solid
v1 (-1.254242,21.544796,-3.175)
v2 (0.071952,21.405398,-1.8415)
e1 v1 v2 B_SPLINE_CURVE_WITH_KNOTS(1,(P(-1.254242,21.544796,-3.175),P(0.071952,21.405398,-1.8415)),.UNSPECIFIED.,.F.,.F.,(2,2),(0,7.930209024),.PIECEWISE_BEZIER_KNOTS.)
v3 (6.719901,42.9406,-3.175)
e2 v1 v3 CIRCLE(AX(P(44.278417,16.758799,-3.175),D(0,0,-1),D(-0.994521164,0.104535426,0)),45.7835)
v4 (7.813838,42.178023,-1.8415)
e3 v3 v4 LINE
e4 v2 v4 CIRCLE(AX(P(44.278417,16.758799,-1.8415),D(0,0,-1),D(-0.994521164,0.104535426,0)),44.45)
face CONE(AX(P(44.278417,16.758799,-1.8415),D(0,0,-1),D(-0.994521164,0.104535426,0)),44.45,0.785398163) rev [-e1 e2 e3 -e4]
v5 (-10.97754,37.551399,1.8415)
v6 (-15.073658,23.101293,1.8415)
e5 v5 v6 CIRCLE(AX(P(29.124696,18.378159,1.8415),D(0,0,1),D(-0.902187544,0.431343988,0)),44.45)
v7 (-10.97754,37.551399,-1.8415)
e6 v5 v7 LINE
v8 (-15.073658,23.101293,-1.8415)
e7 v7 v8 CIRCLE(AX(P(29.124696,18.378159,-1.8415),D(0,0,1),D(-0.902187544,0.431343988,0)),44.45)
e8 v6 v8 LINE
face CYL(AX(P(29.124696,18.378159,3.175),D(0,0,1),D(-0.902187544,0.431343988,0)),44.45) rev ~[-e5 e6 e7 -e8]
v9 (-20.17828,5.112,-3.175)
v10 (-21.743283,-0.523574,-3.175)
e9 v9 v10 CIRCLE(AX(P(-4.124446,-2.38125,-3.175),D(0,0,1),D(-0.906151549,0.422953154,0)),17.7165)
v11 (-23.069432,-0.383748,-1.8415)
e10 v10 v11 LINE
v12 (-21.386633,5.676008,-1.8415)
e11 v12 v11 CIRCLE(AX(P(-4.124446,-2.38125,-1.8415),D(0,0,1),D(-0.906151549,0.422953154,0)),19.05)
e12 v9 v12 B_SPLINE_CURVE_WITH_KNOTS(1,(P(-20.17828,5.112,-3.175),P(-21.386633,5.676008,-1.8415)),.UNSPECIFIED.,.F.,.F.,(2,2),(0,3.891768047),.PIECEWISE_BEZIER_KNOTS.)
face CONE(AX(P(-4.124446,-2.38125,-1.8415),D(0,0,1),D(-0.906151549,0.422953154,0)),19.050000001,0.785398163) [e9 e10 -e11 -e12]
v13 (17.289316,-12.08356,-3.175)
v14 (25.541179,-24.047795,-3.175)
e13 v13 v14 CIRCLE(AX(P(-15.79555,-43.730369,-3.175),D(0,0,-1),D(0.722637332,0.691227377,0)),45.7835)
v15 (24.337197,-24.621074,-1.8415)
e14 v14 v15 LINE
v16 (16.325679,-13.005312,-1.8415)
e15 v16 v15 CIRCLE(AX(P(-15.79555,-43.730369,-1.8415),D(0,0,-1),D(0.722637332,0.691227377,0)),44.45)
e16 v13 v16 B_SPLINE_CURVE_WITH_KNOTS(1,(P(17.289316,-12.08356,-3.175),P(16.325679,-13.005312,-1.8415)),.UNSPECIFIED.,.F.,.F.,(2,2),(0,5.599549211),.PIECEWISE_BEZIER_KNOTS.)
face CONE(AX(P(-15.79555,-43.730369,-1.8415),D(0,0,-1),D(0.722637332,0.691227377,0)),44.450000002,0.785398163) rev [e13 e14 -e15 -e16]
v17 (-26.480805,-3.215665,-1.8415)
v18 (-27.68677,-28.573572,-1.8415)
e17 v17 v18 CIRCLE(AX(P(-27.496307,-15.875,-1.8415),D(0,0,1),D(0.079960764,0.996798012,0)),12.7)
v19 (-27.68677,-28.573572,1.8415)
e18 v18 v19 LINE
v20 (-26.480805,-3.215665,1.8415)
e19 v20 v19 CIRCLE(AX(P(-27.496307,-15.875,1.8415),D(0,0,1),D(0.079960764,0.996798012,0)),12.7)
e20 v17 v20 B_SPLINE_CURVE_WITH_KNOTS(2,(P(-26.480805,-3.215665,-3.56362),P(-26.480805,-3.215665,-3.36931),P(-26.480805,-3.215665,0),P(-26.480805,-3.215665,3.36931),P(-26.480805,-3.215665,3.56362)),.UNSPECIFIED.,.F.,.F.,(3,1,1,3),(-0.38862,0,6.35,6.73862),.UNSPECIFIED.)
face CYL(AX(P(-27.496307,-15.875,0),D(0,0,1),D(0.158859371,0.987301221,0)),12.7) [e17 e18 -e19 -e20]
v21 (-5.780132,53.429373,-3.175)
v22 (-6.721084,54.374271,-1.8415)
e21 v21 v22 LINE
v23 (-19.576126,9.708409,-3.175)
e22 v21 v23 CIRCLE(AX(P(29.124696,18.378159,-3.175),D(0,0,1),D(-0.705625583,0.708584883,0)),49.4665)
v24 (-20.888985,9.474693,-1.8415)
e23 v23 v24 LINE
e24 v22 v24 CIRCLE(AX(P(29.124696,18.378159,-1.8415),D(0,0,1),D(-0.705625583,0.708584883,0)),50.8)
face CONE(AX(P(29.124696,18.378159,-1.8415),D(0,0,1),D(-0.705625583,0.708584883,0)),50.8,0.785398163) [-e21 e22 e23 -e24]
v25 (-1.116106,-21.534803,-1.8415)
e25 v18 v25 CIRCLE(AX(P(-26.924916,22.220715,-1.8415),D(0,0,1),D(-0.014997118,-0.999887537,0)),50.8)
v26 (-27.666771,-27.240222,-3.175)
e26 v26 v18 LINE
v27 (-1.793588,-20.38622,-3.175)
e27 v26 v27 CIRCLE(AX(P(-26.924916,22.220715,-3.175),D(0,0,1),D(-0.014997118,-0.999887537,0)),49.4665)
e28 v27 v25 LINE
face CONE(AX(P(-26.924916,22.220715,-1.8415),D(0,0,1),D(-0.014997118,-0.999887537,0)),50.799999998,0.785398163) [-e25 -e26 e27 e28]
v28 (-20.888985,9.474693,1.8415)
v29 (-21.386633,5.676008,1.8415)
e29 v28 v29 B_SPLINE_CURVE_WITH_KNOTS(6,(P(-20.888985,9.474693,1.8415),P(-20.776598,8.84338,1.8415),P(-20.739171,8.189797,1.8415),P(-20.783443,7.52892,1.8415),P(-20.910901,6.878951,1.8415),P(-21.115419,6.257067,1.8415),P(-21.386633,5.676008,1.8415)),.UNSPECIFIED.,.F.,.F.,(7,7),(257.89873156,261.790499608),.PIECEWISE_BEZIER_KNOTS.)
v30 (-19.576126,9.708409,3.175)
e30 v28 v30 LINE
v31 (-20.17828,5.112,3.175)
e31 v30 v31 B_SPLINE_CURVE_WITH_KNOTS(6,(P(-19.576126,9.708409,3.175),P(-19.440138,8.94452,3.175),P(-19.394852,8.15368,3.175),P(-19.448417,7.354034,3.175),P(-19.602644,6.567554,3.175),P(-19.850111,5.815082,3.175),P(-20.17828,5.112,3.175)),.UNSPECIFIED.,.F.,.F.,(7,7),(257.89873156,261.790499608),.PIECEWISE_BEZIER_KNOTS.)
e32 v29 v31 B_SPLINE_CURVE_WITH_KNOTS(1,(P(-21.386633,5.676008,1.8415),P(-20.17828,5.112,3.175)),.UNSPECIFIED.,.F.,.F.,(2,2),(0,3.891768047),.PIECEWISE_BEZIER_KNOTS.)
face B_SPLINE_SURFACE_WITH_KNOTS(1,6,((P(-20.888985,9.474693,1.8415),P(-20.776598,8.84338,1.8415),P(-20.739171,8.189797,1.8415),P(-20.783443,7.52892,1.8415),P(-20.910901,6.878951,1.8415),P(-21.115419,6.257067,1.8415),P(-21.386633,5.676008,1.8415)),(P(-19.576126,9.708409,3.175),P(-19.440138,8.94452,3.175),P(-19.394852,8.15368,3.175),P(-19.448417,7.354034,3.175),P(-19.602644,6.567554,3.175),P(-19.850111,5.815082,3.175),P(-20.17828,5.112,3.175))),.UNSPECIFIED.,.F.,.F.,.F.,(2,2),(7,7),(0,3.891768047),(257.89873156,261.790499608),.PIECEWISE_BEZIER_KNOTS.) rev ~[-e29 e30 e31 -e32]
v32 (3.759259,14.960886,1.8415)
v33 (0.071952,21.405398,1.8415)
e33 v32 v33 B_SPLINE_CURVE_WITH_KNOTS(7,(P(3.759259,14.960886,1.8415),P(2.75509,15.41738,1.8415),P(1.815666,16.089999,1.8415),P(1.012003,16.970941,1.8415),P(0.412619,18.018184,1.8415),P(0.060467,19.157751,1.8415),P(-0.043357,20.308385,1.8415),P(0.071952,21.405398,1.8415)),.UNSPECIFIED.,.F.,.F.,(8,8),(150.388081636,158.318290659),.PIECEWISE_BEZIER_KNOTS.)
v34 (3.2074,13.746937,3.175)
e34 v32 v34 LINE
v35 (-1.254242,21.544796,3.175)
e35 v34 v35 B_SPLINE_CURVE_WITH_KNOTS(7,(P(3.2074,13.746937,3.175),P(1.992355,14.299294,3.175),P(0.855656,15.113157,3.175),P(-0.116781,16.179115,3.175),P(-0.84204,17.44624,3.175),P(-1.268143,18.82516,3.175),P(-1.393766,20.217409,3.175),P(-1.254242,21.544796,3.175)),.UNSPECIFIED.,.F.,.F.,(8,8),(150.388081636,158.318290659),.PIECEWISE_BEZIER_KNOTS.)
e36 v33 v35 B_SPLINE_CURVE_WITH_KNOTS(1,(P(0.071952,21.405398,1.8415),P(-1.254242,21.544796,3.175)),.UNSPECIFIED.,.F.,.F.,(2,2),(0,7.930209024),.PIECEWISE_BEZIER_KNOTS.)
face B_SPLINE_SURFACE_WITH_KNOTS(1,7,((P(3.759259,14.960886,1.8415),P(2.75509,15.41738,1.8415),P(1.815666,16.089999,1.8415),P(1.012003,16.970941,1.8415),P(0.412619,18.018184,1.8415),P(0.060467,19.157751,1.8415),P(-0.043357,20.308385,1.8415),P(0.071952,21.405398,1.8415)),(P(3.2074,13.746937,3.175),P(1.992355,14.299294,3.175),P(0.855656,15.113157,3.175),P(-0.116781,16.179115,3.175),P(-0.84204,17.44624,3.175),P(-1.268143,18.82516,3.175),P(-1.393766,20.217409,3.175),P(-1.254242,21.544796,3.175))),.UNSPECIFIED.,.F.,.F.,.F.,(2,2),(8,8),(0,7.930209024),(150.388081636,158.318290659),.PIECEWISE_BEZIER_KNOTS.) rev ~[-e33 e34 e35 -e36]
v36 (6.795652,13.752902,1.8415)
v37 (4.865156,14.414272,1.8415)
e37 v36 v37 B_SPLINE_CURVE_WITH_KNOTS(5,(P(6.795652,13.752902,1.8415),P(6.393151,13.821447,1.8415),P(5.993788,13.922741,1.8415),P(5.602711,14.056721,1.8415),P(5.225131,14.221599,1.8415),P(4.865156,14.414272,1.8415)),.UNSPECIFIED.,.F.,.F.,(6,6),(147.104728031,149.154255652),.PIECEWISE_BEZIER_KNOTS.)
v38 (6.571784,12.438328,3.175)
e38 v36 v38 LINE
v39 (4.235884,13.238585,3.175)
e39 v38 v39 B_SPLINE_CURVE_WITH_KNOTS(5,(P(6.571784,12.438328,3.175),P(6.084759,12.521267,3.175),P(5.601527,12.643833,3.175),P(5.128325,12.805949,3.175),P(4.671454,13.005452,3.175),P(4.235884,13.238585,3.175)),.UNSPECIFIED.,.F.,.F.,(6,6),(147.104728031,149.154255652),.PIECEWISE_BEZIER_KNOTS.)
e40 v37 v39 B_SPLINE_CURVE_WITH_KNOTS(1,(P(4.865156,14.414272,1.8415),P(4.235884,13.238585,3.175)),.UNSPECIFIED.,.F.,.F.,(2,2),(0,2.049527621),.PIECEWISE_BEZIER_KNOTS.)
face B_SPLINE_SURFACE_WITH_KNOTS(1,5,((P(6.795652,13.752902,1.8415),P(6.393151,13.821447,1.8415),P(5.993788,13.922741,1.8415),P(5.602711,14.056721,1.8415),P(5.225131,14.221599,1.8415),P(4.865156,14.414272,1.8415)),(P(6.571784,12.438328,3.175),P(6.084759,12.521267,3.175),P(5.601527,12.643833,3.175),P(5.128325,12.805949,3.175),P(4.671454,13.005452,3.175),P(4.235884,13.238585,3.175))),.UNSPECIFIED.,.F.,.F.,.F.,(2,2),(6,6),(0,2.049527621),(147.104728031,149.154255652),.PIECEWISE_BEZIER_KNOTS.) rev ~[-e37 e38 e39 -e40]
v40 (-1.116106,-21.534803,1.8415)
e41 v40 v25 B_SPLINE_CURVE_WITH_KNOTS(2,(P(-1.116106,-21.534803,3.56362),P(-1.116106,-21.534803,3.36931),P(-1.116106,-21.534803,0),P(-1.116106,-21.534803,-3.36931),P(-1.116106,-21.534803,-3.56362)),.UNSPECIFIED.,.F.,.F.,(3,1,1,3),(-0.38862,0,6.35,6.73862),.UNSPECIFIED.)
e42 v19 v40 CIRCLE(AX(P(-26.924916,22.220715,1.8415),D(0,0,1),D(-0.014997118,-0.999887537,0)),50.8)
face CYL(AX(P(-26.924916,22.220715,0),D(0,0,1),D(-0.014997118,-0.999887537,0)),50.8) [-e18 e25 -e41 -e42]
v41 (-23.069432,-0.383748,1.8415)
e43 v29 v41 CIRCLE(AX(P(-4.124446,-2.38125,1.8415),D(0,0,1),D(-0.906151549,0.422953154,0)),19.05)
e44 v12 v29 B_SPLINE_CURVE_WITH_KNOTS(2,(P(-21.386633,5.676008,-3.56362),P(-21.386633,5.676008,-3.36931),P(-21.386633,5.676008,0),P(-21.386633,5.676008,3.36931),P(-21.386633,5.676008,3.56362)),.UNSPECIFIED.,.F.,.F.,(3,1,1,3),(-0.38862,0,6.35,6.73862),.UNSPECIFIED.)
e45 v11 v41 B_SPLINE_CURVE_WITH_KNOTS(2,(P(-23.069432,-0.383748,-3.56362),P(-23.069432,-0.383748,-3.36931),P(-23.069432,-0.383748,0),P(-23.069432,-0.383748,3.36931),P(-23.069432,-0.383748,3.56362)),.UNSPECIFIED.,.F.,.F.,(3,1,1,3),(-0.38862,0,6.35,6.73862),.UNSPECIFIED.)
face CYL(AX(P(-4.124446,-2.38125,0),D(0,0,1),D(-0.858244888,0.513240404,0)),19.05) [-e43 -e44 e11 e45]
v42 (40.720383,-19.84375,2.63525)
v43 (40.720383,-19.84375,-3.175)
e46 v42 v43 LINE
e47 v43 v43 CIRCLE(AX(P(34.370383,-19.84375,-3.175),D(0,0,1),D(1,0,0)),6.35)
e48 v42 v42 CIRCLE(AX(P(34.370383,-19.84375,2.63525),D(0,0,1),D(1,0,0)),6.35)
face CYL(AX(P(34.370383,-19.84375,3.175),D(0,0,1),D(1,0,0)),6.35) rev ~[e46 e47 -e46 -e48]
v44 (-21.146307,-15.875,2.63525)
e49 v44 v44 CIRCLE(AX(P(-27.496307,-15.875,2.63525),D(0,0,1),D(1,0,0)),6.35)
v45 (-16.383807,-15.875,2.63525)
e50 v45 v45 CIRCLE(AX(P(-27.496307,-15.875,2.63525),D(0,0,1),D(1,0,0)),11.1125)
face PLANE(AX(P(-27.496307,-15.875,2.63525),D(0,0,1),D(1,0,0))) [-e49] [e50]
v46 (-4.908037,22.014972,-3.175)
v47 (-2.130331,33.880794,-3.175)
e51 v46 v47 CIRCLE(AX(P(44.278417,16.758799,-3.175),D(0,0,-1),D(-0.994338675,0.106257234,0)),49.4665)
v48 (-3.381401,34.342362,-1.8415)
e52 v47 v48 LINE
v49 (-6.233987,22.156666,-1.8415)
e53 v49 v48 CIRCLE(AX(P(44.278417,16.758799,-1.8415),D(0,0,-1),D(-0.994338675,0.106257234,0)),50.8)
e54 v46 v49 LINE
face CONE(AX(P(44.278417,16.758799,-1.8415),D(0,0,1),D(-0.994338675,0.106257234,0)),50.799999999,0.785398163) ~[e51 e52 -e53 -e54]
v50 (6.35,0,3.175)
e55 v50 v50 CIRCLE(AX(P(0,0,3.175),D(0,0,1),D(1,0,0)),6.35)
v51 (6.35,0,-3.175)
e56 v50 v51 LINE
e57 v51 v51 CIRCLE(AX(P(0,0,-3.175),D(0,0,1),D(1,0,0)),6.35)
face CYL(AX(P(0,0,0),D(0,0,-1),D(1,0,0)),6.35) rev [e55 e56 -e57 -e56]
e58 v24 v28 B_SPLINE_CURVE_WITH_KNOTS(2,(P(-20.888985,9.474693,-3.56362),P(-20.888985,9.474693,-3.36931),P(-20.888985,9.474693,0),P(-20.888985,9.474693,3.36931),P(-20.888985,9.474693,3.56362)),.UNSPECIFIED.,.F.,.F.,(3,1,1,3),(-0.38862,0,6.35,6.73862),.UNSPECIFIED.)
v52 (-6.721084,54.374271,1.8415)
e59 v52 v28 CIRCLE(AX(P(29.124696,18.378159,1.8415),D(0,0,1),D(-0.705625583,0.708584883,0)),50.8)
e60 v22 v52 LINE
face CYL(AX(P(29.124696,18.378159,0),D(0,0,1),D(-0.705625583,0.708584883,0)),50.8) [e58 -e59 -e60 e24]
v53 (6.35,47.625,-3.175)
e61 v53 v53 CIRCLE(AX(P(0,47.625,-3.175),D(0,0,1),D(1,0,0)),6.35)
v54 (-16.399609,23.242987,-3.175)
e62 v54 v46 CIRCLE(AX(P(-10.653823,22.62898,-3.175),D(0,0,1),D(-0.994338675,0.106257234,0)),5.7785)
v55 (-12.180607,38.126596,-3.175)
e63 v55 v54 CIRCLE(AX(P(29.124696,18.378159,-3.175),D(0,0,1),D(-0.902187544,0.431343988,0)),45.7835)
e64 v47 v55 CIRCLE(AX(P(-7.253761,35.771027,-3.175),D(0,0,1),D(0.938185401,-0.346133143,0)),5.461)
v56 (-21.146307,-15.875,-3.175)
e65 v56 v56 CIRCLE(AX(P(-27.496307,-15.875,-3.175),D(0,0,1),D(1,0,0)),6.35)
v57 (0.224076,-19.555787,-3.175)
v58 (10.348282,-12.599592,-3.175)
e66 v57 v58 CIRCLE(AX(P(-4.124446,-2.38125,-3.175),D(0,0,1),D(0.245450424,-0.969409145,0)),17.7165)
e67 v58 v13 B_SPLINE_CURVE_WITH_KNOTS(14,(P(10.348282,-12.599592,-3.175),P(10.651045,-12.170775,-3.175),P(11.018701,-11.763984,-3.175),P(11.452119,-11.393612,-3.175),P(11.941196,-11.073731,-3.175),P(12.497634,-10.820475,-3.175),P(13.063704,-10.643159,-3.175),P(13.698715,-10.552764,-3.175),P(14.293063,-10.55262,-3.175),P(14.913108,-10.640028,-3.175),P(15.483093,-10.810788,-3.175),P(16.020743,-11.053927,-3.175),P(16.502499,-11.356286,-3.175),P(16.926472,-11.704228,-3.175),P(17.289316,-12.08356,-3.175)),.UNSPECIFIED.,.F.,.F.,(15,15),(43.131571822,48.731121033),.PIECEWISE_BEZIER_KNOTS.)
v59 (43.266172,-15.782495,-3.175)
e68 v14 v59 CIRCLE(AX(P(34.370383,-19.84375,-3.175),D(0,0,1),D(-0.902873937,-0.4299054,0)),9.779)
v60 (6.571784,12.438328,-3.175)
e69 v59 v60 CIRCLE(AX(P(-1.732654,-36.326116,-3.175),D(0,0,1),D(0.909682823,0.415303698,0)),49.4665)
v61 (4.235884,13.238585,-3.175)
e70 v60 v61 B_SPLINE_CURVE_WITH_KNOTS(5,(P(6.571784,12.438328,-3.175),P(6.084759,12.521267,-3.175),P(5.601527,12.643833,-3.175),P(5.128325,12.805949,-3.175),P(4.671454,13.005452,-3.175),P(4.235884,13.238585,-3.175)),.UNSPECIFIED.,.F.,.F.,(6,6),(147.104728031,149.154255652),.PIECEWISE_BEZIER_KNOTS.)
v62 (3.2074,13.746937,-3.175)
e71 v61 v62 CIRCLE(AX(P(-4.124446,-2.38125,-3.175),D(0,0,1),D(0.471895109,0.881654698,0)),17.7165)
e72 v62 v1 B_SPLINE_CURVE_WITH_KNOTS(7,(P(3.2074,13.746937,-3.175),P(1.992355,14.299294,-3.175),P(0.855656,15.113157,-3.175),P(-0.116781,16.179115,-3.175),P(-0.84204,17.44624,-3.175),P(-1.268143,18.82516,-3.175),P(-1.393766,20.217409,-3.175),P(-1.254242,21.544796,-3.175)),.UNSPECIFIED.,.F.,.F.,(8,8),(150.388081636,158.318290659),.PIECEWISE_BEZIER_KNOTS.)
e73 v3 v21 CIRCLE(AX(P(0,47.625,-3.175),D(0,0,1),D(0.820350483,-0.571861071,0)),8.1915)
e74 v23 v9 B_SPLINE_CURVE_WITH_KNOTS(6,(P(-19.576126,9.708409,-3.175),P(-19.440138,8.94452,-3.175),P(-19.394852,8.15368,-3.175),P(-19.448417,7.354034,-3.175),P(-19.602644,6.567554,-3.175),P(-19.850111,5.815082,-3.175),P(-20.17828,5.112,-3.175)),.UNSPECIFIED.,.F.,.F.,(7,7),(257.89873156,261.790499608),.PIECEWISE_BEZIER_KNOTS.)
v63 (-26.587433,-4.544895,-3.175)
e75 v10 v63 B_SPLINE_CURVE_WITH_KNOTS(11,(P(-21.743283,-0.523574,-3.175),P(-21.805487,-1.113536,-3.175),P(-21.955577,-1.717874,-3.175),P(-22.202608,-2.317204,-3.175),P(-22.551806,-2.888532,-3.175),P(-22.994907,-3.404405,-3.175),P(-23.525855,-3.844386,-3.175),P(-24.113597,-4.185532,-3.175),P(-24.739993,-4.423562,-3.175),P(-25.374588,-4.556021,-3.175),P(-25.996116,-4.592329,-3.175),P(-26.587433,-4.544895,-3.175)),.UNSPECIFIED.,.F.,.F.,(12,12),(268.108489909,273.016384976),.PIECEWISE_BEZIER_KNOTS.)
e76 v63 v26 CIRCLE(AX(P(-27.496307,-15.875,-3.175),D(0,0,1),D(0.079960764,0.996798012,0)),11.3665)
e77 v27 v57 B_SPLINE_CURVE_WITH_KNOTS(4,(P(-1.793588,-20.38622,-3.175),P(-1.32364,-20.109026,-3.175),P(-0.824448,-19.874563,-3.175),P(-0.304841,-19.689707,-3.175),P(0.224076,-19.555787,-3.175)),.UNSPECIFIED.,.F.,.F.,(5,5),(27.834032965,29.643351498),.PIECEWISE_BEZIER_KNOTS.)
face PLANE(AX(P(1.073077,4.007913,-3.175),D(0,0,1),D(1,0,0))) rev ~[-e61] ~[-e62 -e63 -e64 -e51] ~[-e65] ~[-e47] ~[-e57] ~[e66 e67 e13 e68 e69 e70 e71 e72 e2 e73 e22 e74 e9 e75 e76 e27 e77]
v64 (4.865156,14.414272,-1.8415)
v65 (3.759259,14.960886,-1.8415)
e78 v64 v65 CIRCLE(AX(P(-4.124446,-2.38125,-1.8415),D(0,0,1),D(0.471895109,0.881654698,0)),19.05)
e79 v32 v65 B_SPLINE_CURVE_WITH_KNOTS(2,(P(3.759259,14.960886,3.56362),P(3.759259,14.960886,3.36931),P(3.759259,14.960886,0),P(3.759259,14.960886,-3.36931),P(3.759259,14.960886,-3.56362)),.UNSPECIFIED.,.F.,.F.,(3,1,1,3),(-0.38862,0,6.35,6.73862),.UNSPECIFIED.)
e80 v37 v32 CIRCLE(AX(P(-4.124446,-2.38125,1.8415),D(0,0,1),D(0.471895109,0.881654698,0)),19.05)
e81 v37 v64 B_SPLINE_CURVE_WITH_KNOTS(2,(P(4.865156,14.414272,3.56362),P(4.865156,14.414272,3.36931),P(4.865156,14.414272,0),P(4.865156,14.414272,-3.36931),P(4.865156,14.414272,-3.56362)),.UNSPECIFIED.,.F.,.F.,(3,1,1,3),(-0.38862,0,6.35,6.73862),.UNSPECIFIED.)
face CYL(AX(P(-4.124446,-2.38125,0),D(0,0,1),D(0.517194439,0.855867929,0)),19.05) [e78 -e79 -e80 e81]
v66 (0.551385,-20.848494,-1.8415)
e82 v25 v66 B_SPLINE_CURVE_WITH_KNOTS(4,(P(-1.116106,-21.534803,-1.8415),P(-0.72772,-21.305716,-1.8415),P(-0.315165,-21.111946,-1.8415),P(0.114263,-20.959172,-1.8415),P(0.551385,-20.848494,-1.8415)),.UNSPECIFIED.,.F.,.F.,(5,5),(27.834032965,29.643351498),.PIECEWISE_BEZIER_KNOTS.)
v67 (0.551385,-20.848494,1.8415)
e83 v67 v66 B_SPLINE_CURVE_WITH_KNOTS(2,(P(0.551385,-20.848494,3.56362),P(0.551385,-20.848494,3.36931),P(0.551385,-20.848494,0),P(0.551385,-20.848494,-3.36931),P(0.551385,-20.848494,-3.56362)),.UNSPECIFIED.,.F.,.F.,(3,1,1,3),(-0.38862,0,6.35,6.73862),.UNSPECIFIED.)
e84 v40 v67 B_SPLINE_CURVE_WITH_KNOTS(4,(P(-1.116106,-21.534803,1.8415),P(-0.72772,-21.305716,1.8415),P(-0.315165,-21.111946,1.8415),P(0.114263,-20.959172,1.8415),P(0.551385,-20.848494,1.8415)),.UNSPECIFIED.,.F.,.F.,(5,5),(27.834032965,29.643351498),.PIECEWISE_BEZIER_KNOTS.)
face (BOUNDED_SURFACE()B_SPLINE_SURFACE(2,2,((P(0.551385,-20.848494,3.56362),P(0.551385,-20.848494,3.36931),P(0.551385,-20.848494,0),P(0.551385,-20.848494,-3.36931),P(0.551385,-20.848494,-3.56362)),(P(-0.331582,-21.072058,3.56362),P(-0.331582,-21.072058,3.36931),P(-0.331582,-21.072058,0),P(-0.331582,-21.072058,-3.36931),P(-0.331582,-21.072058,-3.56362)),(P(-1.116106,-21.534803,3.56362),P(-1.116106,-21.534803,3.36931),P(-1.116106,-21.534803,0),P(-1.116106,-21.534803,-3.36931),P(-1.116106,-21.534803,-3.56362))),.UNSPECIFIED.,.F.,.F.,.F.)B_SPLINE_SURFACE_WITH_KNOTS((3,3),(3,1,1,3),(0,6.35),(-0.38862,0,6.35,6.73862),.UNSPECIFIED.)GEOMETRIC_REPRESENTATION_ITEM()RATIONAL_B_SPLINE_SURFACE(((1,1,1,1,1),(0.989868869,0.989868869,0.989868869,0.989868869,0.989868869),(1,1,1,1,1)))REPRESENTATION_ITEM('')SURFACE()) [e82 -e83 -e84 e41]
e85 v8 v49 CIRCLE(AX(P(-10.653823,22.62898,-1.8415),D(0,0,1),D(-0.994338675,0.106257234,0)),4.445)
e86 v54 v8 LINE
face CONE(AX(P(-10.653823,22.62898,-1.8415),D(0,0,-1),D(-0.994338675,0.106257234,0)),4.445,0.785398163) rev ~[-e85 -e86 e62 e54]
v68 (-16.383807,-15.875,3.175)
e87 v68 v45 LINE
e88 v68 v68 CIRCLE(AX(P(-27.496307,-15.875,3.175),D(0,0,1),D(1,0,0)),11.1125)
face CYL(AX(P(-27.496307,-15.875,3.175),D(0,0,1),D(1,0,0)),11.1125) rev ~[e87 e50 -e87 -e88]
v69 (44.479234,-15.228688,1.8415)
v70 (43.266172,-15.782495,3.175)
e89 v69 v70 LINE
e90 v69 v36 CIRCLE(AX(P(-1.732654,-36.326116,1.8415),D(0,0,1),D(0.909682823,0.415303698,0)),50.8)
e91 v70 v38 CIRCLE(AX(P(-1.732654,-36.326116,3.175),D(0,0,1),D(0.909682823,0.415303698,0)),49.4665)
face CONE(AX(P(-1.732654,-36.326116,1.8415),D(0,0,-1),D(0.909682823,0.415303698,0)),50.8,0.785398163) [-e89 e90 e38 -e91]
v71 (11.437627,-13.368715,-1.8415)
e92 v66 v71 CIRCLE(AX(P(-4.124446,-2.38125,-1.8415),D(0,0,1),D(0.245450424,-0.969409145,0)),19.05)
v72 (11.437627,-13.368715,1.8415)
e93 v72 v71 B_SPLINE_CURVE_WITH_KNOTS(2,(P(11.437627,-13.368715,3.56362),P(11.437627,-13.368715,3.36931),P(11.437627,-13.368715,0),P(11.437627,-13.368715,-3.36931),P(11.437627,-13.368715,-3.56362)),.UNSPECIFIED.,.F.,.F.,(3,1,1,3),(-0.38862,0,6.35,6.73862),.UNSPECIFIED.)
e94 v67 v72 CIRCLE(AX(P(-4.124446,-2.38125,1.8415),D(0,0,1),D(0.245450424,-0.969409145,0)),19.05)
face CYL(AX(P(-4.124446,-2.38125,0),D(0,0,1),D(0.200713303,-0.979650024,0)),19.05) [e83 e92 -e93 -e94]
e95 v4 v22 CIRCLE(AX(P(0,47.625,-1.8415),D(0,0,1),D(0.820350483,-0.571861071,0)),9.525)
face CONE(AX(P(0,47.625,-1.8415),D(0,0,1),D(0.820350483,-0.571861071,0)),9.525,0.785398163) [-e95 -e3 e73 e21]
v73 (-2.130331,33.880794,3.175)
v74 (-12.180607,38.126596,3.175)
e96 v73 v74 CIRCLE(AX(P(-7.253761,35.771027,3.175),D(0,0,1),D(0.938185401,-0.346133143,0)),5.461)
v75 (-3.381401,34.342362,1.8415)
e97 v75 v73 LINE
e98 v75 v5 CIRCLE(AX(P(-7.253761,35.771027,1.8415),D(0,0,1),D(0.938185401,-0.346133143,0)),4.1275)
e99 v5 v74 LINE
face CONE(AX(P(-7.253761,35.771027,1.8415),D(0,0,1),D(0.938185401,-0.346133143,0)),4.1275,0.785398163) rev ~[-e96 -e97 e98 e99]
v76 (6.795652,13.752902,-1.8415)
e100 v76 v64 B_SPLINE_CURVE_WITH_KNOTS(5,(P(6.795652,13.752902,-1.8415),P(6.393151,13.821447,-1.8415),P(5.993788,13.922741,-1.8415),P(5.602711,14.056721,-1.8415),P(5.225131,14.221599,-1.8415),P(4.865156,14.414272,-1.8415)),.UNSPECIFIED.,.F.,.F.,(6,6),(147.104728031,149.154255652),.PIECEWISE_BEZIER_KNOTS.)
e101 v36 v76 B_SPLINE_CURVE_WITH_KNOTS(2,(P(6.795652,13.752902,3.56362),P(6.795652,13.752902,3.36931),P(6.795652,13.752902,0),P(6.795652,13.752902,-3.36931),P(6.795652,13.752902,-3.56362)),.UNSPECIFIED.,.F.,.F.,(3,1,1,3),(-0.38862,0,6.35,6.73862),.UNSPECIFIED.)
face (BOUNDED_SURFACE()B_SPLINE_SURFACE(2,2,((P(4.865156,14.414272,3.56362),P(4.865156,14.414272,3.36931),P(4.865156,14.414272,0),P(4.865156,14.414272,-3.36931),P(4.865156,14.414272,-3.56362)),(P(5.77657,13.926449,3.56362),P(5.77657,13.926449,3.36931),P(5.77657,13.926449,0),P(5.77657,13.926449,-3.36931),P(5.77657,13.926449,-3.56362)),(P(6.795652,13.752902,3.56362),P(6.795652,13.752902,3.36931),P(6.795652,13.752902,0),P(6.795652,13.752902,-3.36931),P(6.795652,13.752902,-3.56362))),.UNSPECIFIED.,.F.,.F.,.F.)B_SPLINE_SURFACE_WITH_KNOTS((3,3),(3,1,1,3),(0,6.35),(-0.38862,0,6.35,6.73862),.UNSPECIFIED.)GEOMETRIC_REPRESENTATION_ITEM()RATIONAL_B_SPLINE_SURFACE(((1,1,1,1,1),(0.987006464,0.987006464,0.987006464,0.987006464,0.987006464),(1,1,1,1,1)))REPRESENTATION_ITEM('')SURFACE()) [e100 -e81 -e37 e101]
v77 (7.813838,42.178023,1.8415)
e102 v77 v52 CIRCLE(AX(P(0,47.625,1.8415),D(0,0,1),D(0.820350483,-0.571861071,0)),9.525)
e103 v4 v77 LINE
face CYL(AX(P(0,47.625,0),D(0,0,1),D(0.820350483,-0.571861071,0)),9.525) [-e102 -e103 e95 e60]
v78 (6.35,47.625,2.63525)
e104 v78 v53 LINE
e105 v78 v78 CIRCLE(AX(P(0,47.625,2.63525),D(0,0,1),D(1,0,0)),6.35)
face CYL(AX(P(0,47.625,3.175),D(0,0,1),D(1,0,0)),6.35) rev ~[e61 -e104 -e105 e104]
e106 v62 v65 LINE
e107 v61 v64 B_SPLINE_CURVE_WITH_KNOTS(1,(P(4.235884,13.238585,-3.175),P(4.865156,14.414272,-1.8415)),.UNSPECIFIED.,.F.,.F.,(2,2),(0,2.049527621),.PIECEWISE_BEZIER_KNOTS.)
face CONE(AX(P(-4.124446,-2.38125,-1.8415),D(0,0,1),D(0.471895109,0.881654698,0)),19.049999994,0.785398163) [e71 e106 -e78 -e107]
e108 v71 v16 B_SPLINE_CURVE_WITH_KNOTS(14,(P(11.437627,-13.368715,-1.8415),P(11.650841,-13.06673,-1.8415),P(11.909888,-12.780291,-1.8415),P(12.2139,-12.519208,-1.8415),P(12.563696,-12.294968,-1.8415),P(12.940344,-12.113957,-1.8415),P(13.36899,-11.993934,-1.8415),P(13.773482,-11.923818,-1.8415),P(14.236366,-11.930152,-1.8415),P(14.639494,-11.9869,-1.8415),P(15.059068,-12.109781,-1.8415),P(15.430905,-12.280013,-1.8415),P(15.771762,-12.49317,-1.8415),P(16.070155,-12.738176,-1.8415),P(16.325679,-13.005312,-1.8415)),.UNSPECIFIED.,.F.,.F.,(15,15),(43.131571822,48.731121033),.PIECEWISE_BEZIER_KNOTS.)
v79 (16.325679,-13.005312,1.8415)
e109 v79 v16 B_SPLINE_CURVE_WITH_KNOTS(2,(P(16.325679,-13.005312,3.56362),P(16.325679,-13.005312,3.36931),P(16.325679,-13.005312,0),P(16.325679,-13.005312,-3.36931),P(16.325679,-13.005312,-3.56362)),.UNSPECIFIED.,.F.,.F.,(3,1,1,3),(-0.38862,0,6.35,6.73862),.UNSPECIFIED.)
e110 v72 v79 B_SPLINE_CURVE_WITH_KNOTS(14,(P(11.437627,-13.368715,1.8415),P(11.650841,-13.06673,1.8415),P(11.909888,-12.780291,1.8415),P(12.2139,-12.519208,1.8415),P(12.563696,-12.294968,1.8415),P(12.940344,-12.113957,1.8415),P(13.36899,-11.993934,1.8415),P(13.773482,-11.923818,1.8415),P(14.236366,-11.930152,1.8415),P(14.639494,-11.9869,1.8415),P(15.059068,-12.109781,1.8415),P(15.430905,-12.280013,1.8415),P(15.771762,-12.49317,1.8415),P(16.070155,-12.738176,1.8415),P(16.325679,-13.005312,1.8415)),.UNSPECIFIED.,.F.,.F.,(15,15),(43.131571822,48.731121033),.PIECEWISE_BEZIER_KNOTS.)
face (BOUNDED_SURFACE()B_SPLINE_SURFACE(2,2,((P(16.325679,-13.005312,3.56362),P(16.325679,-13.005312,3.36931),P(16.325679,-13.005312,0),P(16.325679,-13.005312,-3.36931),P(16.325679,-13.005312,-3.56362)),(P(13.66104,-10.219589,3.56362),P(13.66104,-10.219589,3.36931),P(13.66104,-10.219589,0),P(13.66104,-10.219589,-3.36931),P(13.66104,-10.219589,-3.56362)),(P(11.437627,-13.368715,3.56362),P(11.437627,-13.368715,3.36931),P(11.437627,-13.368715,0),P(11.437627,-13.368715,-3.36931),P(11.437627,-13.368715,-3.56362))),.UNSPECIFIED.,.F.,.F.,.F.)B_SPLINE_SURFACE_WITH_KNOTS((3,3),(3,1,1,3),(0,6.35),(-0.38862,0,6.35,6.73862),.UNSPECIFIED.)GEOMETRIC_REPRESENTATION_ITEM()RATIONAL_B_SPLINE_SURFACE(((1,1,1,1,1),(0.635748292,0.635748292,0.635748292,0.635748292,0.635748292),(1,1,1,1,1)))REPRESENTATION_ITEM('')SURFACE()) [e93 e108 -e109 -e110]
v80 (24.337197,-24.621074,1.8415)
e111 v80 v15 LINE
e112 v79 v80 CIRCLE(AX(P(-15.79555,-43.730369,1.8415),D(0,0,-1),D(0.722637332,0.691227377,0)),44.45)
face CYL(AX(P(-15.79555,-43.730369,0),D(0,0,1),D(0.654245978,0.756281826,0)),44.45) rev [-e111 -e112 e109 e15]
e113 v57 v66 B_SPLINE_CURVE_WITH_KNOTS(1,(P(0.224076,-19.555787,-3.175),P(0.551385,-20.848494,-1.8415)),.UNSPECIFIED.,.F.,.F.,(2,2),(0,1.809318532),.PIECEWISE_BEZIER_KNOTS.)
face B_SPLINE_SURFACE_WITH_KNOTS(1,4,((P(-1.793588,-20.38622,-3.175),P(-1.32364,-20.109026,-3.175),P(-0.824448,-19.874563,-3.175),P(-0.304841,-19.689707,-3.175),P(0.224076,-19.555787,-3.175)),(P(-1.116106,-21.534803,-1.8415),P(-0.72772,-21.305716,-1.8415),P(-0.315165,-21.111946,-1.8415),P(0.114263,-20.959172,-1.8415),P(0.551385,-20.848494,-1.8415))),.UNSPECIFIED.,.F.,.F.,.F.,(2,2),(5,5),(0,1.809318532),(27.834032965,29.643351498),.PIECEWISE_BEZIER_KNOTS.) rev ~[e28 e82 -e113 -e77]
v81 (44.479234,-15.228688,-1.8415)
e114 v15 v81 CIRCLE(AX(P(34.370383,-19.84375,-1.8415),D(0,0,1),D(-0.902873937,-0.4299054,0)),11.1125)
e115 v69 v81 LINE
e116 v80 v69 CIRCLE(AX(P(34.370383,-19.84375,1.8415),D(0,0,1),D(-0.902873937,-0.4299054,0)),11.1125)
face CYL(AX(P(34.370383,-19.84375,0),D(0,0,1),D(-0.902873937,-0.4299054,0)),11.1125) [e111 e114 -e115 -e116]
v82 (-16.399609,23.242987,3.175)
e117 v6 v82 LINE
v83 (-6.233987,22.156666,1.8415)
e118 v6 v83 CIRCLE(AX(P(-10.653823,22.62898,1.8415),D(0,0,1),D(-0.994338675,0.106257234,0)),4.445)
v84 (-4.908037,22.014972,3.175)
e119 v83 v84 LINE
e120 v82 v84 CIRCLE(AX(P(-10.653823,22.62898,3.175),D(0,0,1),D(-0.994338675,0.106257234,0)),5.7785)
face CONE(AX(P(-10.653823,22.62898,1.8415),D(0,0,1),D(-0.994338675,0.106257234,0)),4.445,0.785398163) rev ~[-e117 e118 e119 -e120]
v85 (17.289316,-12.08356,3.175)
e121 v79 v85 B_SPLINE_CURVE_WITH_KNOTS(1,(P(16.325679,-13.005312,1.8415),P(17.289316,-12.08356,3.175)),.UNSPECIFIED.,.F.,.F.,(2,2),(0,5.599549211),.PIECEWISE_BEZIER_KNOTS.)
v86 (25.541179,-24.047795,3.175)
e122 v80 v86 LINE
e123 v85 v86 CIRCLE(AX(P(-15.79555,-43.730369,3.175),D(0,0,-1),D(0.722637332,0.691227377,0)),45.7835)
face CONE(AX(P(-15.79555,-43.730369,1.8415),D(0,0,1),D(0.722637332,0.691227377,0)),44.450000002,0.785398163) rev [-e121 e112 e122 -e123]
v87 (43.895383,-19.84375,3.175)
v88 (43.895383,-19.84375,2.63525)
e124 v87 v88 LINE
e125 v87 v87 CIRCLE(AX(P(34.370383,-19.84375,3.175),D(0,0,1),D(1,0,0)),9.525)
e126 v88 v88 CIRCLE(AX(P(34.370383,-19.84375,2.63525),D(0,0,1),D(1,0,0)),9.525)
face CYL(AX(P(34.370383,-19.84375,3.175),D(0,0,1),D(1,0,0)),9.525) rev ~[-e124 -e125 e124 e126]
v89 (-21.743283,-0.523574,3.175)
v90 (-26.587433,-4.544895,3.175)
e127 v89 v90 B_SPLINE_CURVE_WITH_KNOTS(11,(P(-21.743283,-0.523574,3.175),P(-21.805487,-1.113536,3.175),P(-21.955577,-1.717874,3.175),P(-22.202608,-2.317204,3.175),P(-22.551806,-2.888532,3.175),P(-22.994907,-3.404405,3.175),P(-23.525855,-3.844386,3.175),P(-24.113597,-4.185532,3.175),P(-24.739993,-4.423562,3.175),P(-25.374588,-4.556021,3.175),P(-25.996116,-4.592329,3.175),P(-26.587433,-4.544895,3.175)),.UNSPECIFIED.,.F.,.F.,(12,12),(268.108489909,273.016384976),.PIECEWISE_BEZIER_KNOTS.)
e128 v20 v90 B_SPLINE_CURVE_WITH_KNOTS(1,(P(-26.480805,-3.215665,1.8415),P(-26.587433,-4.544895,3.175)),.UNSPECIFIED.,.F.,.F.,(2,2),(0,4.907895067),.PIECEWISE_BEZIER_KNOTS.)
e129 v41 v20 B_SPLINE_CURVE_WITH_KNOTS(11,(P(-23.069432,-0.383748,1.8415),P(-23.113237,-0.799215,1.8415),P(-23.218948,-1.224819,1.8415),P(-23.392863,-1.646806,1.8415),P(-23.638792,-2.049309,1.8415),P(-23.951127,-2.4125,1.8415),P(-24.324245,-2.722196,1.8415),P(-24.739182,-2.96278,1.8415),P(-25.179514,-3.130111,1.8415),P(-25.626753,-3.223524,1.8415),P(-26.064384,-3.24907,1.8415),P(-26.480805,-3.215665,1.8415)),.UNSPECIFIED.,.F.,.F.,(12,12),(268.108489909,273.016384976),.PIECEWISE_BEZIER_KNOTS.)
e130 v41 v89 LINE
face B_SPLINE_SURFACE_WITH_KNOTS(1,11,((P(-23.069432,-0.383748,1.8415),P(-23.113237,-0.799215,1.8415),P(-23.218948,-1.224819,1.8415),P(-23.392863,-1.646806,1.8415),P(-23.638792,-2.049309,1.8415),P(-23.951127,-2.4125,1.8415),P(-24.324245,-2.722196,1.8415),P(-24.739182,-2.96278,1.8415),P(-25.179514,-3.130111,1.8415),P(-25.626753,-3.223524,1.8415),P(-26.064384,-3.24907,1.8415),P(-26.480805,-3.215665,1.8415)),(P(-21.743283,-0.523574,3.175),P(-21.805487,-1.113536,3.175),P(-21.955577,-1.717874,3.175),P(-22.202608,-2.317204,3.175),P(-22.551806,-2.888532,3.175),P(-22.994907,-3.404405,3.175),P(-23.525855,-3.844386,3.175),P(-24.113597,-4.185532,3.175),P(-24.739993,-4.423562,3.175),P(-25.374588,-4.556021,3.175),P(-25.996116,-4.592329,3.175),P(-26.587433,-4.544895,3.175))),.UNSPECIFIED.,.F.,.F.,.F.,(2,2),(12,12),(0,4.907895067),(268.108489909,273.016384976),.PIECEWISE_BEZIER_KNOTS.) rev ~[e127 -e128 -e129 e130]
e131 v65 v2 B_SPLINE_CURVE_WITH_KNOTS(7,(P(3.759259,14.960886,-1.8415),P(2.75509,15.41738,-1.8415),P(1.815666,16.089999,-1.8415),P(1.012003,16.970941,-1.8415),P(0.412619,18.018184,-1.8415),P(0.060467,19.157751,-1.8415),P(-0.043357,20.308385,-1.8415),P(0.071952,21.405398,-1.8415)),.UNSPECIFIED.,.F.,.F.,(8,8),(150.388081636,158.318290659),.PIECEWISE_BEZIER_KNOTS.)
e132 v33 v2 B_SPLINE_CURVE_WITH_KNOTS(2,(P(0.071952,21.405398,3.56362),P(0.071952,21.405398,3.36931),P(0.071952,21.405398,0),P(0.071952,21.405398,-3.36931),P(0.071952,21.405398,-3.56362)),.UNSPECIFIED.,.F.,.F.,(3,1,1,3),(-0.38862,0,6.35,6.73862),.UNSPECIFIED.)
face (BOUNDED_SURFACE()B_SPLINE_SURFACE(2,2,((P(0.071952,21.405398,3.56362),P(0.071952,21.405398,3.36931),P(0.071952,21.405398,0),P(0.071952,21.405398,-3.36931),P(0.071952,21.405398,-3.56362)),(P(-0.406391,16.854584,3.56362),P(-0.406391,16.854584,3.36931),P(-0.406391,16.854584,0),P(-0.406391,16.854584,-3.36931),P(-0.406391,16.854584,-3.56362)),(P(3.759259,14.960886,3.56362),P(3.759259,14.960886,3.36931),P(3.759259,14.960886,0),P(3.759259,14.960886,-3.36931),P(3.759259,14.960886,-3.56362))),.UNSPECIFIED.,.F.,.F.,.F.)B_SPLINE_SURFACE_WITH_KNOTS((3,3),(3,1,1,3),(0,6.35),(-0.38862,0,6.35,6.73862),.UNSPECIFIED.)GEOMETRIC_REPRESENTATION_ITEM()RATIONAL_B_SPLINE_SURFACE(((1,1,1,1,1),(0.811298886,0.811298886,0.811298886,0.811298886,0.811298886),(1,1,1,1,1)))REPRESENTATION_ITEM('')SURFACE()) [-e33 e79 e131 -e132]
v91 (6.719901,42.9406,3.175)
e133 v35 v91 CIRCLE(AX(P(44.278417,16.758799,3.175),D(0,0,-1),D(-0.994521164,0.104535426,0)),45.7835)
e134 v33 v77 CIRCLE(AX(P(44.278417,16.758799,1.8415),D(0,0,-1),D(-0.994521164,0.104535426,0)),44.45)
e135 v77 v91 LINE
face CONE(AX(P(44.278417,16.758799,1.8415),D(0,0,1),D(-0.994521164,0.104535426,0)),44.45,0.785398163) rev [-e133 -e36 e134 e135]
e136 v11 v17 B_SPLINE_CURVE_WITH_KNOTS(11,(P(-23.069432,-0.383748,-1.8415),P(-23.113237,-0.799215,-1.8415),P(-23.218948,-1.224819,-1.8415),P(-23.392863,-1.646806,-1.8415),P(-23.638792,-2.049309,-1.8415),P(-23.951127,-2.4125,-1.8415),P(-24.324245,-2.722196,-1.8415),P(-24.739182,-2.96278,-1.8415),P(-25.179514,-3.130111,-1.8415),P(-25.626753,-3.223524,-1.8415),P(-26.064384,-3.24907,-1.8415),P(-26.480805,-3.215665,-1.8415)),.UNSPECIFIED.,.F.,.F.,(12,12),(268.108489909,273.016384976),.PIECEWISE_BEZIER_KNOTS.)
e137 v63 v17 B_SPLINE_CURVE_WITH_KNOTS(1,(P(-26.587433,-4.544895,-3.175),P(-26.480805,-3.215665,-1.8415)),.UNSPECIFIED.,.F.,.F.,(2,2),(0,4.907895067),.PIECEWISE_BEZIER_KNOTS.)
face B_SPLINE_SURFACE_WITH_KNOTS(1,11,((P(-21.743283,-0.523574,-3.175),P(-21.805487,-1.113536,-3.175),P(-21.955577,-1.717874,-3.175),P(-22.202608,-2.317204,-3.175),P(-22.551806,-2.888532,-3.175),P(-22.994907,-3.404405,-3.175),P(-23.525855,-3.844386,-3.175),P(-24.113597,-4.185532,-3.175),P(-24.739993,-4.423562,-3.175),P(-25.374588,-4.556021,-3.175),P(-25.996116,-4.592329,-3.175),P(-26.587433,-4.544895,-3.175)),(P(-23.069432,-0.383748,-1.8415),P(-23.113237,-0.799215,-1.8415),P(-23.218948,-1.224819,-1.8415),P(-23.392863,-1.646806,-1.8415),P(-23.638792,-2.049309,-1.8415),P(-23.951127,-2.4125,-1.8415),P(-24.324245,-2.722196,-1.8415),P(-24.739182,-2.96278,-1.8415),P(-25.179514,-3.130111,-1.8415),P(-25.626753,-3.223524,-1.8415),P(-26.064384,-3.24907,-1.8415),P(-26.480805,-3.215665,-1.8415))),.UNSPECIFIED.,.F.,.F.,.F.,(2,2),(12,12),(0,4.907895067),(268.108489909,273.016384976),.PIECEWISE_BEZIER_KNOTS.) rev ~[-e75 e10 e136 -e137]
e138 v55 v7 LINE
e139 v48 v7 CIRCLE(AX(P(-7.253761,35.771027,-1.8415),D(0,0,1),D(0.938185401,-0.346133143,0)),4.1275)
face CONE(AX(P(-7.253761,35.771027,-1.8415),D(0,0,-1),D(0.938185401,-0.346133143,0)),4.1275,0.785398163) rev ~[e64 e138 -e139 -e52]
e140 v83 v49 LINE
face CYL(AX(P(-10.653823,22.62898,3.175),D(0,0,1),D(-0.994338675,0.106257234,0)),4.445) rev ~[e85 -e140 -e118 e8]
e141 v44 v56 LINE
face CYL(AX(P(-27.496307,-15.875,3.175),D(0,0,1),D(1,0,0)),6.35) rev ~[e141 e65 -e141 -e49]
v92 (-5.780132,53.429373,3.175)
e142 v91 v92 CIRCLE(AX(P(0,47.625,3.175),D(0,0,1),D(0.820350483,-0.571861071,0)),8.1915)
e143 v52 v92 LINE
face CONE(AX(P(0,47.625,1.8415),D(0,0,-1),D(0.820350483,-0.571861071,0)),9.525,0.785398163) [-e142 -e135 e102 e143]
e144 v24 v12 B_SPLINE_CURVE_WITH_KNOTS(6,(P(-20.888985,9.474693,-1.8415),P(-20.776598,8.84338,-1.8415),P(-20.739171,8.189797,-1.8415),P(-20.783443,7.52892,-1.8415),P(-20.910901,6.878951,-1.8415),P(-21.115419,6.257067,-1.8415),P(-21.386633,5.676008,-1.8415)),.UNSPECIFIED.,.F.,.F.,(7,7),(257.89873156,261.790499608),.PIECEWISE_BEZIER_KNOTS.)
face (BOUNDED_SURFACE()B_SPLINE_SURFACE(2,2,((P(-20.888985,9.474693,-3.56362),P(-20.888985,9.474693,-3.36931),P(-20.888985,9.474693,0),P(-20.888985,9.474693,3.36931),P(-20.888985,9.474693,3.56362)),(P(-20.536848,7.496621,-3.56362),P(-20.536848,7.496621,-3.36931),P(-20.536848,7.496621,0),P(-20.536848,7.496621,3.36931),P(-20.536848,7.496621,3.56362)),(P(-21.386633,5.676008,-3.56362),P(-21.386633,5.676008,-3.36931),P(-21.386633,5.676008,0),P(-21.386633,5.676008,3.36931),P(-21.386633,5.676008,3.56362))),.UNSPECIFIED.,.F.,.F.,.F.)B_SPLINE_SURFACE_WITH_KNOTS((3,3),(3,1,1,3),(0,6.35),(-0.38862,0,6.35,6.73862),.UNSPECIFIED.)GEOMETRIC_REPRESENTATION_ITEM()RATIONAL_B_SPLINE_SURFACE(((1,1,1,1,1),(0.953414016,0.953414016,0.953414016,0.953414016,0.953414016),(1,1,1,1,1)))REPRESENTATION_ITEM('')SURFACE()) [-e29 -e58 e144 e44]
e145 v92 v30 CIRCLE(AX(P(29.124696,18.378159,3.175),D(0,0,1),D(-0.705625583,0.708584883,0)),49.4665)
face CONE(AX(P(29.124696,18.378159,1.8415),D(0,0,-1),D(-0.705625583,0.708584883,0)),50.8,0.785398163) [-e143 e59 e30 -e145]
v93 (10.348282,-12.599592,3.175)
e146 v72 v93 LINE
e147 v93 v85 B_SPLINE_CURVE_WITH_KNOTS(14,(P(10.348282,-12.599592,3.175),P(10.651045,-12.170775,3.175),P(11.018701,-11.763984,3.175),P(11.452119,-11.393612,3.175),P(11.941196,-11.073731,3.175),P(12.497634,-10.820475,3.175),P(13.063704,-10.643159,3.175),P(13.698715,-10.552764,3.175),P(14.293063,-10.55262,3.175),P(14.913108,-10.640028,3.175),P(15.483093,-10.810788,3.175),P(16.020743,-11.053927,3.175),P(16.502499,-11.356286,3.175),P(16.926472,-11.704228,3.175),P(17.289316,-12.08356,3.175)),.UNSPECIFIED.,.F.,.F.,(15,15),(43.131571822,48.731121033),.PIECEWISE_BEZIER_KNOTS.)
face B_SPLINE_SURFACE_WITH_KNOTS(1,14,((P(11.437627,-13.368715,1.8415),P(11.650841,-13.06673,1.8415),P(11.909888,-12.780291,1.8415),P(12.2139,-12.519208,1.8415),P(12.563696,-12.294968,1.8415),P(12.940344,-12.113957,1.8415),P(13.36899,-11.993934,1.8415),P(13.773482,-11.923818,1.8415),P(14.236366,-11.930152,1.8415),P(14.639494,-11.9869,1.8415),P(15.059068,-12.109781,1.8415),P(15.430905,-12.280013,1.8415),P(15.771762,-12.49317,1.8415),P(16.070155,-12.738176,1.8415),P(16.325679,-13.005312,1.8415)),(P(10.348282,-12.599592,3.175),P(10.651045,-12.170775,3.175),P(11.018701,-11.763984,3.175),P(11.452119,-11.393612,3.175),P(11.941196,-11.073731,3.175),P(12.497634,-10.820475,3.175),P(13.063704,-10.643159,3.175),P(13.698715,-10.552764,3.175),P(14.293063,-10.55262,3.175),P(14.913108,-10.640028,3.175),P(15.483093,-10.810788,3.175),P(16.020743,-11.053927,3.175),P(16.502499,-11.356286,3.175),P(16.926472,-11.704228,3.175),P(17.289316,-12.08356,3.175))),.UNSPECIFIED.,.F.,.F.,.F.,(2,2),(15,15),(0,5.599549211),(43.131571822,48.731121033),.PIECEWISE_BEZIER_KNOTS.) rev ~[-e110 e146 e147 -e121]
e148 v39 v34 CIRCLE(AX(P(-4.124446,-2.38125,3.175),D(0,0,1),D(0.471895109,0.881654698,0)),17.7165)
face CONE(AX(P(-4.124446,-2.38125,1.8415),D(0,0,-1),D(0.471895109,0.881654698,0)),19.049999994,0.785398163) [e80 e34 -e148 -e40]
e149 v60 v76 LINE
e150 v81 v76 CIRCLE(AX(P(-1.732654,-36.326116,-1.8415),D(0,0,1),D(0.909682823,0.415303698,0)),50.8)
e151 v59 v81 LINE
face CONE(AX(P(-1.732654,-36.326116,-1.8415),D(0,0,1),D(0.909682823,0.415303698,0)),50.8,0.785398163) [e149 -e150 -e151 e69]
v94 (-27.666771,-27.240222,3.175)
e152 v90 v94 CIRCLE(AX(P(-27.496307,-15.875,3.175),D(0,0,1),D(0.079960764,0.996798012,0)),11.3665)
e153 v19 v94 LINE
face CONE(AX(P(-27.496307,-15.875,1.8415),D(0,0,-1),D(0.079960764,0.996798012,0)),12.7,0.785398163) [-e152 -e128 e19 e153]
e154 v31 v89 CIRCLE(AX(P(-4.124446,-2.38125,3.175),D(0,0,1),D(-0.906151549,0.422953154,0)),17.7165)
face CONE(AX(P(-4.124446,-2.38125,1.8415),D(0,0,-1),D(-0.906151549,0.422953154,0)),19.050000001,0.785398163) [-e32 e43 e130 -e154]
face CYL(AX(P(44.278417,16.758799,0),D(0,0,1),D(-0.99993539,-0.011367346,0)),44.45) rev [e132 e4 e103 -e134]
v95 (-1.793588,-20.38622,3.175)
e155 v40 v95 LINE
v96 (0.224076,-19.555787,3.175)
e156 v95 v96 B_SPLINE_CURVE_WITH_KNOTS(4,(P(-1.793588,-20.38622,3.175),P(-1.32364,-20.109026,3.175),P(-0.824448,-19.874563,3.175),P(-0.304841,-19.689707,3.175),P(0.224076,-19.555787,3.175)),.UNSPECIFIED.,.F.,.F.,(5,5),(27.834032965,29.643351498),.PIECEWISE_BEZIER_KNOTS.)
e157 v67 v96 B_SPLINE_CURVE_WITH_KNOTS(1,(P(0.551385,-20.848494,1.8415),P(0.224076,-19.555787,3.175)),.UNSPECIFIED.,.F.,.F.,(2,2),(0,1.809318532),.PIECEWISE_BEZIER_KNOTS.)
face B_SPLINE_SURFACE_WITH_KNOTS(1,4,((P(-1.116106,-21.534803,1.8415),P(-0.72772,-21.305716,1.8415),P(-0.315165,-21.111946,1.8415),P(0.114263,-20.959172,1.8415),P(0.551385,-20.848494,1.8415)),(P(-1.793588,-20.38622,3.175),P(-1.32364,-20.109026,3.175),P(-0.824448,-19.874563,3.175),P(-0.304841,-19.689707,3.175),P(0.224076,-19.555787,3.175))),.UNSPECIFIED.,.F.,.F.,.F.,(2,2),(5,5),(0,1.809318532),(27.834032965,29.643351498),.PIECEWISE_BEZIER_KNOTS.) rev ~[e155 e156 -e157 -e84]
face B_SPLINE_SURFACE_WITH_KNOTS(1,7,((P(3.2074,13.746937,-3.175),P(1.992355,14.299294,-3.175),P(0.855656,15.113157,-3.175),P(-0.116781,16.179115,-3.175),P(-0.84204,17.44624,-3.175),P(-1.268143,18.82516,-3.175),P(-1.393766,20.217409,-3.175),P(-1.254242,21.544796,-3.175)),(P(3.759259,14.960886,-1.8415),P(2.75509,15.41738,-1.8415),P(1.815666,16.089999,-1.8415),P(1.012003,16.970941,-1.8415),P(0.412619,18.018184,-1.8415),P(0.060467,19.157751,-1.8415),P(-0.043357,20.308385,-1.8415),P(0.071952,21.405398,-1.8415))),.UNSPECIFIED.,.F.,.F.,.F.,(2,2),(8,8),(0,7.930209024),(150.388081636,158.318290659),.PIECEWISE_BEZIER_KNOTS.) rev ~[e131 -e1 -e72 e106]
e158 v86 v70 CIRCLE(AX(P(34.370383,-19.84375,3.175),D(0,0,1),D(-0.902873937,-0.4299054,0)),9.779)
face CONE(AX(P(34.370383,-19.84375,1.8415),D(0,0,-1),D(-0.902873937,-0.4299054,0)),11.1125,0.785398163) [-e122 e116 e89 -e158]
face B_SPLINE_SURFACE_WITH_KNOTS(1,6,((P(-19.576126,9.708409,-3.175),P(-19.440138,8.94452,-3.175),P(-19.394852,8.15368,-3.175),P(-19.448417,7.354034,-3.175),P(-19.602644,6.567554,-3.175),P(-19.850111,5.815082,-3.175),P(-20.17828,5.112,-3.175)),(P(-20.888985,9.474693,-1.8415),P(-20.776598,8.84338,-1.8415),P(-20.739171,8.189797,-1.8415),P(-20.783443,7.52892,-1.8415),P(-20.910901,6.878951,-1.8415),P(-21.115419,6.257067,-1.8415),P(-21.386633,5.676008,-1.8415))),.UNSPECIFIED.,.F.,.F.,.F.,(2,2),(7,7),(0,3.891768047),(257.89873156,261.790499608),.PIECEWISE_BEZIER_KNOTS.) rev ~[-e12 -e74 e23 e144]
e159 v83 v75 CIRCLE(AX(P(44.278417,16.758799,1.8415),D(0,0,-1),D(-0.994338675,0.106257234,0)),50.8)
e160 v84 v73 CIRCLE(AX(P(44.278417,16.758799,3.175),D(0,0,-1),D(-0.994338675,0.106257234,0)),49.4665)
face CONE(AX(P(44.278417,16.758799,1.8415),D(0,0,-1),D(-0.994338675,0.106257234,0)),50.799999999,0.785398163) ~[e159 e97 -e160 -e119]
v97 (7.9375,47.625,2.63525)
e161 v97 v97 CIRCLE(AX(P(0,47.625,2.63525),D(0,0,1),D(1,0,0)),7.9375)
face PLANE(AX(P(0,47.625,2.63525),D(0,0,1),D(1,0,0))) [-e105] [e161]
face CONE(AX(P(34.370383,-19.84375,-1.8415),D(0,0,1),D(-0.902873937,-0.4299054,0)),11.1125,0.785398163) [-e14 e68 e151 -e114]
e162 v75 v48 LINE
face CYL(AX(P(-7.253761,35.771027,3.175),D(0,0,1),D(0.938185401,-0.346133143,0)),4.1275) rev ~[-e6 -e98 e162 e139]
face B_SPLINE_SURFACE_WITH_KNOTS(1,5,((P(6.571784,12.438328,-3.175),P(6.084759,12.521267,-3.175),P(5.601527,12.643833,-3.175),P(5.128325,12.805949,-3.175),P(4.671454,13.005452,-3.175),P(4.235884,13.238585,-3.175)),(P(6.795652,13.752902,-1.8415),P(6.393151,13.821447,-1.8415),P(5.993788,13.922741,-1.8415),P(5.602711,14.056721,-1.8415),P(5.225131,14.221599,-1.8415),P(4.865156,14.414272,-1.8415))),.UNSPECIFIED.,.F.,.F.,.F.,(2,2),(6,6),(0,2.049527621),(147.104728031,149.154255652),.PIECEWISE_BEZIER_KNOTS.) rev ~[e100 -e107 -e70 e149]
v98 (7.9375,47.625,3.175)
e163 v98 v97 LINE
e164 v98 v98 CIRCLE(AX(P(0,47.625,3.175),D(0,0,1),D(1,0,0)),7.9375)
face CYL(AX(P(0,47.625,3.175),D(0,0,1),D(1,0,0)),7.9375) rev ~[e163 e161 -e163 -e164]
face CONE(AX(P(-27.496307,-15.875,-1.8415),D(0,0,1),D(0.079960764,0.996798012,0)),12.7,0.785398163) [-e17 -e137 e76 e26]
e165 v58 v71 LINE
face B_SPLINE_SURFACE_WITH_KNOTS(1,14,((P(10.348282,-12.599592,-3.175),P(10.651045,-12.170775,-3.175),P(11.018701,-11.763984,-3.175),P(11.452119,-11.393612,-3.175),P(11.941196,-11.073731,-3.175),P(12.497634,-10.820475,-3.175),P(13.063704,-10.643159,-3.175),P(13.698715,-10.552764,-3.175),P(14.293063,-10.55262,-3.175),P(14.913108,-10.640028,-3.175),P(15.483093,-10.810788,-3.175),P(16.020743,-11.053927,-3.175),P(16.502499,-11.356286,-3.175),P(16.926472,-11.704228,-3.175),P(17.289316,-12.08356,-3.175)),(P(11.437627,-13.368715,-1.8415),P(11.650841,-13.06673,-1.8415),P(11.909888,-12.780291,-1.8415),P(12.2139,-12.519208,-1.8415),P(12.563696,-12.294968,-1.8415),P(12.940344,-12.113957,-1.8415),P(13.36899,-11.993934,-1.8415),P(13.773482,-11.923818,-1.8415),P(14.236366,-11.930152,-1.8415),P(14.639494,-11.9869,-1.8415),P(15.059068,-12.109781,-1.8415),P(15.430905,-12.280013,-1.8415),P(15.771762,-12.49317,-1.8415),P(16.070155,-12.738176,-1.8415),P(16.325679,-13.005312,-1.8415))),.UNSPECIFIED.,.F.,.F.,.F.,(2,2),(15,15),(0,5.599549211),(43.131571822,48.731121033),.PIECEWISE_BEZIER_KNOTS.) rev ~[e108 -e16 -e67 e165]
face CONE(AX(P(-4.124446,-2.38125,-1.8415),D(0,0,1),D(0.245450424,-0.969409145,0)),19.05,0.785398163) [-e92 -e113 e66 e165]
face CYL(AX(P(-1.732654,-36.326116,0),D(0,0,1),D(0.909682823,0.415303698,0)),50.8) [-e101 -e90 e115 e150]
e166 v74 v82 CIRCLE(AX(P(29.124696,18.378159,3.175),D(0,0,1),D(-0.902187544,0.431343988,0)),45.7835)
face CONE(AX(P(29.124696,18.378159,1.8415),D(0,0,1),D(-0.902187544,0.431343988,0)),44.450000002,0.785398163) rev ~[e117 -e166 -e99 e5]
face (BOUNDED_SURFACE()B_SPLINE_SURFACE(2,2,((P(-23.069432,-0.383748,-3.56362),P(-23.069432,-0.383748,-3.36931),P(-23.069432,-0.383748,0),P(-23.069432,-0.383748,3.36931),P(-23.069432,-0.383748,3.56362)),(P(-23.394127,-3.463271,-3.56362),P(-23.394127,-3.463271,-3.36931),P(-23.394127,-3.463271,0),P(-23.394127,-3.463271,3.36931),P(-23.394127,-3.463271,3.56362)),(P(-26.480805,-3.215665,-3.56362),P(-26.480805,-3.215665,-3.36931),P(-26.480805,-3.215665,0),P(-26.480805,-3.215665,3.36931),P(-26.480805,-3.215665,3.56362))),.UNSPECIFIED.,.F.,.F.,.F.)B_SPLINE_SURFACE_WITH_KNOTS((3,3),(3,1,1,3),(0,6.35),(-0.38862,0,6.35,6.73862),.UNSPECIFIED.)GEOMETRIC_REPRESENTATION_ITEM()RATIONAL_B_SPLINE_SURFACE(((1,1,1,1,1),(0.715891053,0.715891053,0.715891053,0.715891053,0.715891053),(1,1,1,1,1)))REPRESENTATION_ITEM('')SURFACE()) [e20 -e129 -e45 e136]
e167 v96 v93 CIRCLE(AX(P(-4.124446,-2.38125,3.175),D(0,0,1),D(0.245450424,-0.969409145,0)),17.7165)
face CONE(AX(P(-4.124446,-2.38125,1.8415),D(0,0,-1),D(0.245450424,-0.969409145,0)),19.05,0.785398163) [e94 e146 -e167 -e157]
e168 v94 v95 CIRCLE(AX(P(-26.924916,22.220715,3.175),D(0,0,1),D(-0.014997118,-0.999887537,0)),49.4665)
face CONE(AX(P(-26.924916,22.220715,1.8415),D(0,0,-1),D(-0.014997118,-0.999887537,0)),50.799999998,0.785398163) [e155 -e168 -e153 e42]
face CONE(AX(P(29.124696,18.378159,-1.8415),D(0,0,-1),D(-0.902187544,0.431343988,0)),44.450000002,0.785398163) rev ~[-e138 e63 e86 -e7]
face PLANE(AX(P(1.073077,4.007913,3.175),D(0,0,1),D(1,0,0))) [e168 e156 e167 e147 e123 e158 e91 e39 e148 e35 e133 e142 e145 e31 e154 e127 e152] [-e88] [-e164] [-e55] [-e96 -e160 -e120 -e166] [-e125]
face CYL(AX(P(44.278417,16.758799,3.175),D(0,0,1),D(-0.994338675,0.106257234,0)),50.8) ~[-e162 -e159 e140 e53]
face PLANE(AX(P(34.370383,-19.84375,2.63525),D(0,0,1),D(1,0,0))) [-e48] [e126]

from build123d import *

# Parameters (mm, degrees)
F1_R      = 6.35
F2_DEPTH  = 3.175
F3_R      = 6.35
F4_DEPTH  = 6.351
F5_R      = 6.35
F6_R      = 3.175
F7_R      = 11.1125
F7_R_2    = 9.525
F7_R_3    = 7.9375
F8_DEPTH  = 0.53975
F11_DEPTH = 25.4
F12_SIZE  = 1.3335


with BuildPart() as f2:
    # F1 (on Top) → F2 (new body, symmetric)
    with BuildSketch(Plane.XY):
        with BuildLine():
            ThreePointArc((-0.168710733, 16.2535201518), (1.7967030303, 29.8395650927), (7.8138383534, 42.1780232985))
            ThreePointArc((7.8138383534, 42.1780232985), (6.1225519823, 54.9215733207), (-6.7210836767, 54.3742710132))
            ThreePointArc((-6.7210836767, 54.3742710132), (-19.6290735416, 32.6508588295), (-20.4740110981, 7.3959797012))
            ThreePointArc((-20.4740110981, 7.3959797012), (-22.6457174108, 2.0757674769), (-23.1321493543, -3.6499945148))
            ThreePointArc((-23.1321493543, -3.6499945148), (-24.3075600188, -3.5087608054), (-25.4787925595, -3.3362744979))
            ThreePointArc((-25.4787925595, -3.3362744979), (-40.1479792359, -14.7681220671), (-27.6867699643, -28.5735717187))
            ThreePointArc((-27.6867699643, -28.5735717187), (-13.4568579615, -26.7614387597), (-0.300857561, -21.0435829613))
            ThreePointArc((-0.300857561, -21.0435829613), (7.8163915703, -17.2243931464), (13.2856838039, -10.1136416555))
            ThreePointArc((13.2856838039, -10.1136416555), (19.5634681844, -16.7944756929), (24.337196584, -24.6210737617))
            ThreePointArc((24.337196584, -24.6210737617), (39.0667286463, -29.9150952834), (44.4792335839, -15.2286876578))
            ThreePointArc((44.4792335839, -15.2286876578), (28.8065675228, 4.269400985), (5.72810807, 13.9230340561))
            ThreePointArc((5.72810807, 13.9230340561), (2.8773398413, 15.3353381376), (-0.168710733, 16.2535201518))
        make_face()
        Circle(F1_R, mode=Mode.SUBTRACT)
    extrude(amount=F2_DEPTH, both=True)

    # F3 (on face) → F4 (cut, through all)
    with BuildSketch(Plane.XY.offset(3.175)):
        with Locations((0, 47.625)):
            Circle(F3_R)
        with Locations((34.3703832127, -19.84375)):
            Circle(F3_R)
        with Locations((-27.4963065702, -15.875)):
            Circle(F3_R)
    extrude(amount=-F4_DEPTH, mode=Mode.SUBTRACT)

    # F5
    f5_edges = [f2.edges().sort_by_distance(p)[0] for p in [
        (-20.474011, 7.39598, 0),
        (-0.168711, 16.25352, 0),
        (5.728108, 13.923034, 0),
        (-0.300858, -21.043583, 0),
    ]]
    fillet(f5_edges, radius=F5_R)

    # F6
    f6_edges = [f2.edges().sort_by_distance(p)[0] for p in [
        (13.285684, -10.113642, 0),
        (-23.132149, -3.649995, 0),
    ]]
    fillet(f6_edges, radius=F6_R)

    # F7 (on face) → F8 (cut)
    with BuildSketch(Plane.XY.offset(3.175)):
        with Locations((-27.4963065702, -15.875)):
            Circle(F7_R)
        with Locations((34.3703832127, -19.84375)):
            Circle(F7_R_2)
        with Locations((0, 47.625)):
            Circle(F7_R_3)
    extrude(amount=-F8_DEPTH, mode=Mode.SUBTRACT)

    # F10 (on face) → F11 (cut)
    with BuildSketch(Plane.XY.offset(3.175)):
        with BuildLine():
            ThreePointArc((-10.9775403861, 37.5513992072), (-13.6403456115, 30.5006059619), (-15.0736581613, 23.1012930078))
            ThreePointArc((-15.0736581613, 23.1012930078), (-11.1261361584, 18.2091441919), (-6.2339873425, 22.1566661948))
            ThreePointArc((-6.2339873425, 22.1566661948), (-5.1843883194, 28.3376957326), (-3.3814010551, 34.3423623497))
            ThreePointArc((-3.3814010551, 34.3423623497), (-5.6475239326, 39.5731654756), (-10.9775403861, 37.5513992072))
        make_face()
    extrude(amount=-F11_DEPTH, mode=Mode.SUBTRACT)

    # F12
    f12_edges = [f2.edges().sort_by_distance(p)[0] for p in [
        (-13.91632, -26.88546, 3.175),
        (-13.91632, -26.88546, -3.175),
        (-13.640346, 30.500606, 3.175),
        (-5.647524, 39.573165, -3.175),
    ]]
    chamfer(f12_edges, length=F12_SIZE)


solid = f2.part
